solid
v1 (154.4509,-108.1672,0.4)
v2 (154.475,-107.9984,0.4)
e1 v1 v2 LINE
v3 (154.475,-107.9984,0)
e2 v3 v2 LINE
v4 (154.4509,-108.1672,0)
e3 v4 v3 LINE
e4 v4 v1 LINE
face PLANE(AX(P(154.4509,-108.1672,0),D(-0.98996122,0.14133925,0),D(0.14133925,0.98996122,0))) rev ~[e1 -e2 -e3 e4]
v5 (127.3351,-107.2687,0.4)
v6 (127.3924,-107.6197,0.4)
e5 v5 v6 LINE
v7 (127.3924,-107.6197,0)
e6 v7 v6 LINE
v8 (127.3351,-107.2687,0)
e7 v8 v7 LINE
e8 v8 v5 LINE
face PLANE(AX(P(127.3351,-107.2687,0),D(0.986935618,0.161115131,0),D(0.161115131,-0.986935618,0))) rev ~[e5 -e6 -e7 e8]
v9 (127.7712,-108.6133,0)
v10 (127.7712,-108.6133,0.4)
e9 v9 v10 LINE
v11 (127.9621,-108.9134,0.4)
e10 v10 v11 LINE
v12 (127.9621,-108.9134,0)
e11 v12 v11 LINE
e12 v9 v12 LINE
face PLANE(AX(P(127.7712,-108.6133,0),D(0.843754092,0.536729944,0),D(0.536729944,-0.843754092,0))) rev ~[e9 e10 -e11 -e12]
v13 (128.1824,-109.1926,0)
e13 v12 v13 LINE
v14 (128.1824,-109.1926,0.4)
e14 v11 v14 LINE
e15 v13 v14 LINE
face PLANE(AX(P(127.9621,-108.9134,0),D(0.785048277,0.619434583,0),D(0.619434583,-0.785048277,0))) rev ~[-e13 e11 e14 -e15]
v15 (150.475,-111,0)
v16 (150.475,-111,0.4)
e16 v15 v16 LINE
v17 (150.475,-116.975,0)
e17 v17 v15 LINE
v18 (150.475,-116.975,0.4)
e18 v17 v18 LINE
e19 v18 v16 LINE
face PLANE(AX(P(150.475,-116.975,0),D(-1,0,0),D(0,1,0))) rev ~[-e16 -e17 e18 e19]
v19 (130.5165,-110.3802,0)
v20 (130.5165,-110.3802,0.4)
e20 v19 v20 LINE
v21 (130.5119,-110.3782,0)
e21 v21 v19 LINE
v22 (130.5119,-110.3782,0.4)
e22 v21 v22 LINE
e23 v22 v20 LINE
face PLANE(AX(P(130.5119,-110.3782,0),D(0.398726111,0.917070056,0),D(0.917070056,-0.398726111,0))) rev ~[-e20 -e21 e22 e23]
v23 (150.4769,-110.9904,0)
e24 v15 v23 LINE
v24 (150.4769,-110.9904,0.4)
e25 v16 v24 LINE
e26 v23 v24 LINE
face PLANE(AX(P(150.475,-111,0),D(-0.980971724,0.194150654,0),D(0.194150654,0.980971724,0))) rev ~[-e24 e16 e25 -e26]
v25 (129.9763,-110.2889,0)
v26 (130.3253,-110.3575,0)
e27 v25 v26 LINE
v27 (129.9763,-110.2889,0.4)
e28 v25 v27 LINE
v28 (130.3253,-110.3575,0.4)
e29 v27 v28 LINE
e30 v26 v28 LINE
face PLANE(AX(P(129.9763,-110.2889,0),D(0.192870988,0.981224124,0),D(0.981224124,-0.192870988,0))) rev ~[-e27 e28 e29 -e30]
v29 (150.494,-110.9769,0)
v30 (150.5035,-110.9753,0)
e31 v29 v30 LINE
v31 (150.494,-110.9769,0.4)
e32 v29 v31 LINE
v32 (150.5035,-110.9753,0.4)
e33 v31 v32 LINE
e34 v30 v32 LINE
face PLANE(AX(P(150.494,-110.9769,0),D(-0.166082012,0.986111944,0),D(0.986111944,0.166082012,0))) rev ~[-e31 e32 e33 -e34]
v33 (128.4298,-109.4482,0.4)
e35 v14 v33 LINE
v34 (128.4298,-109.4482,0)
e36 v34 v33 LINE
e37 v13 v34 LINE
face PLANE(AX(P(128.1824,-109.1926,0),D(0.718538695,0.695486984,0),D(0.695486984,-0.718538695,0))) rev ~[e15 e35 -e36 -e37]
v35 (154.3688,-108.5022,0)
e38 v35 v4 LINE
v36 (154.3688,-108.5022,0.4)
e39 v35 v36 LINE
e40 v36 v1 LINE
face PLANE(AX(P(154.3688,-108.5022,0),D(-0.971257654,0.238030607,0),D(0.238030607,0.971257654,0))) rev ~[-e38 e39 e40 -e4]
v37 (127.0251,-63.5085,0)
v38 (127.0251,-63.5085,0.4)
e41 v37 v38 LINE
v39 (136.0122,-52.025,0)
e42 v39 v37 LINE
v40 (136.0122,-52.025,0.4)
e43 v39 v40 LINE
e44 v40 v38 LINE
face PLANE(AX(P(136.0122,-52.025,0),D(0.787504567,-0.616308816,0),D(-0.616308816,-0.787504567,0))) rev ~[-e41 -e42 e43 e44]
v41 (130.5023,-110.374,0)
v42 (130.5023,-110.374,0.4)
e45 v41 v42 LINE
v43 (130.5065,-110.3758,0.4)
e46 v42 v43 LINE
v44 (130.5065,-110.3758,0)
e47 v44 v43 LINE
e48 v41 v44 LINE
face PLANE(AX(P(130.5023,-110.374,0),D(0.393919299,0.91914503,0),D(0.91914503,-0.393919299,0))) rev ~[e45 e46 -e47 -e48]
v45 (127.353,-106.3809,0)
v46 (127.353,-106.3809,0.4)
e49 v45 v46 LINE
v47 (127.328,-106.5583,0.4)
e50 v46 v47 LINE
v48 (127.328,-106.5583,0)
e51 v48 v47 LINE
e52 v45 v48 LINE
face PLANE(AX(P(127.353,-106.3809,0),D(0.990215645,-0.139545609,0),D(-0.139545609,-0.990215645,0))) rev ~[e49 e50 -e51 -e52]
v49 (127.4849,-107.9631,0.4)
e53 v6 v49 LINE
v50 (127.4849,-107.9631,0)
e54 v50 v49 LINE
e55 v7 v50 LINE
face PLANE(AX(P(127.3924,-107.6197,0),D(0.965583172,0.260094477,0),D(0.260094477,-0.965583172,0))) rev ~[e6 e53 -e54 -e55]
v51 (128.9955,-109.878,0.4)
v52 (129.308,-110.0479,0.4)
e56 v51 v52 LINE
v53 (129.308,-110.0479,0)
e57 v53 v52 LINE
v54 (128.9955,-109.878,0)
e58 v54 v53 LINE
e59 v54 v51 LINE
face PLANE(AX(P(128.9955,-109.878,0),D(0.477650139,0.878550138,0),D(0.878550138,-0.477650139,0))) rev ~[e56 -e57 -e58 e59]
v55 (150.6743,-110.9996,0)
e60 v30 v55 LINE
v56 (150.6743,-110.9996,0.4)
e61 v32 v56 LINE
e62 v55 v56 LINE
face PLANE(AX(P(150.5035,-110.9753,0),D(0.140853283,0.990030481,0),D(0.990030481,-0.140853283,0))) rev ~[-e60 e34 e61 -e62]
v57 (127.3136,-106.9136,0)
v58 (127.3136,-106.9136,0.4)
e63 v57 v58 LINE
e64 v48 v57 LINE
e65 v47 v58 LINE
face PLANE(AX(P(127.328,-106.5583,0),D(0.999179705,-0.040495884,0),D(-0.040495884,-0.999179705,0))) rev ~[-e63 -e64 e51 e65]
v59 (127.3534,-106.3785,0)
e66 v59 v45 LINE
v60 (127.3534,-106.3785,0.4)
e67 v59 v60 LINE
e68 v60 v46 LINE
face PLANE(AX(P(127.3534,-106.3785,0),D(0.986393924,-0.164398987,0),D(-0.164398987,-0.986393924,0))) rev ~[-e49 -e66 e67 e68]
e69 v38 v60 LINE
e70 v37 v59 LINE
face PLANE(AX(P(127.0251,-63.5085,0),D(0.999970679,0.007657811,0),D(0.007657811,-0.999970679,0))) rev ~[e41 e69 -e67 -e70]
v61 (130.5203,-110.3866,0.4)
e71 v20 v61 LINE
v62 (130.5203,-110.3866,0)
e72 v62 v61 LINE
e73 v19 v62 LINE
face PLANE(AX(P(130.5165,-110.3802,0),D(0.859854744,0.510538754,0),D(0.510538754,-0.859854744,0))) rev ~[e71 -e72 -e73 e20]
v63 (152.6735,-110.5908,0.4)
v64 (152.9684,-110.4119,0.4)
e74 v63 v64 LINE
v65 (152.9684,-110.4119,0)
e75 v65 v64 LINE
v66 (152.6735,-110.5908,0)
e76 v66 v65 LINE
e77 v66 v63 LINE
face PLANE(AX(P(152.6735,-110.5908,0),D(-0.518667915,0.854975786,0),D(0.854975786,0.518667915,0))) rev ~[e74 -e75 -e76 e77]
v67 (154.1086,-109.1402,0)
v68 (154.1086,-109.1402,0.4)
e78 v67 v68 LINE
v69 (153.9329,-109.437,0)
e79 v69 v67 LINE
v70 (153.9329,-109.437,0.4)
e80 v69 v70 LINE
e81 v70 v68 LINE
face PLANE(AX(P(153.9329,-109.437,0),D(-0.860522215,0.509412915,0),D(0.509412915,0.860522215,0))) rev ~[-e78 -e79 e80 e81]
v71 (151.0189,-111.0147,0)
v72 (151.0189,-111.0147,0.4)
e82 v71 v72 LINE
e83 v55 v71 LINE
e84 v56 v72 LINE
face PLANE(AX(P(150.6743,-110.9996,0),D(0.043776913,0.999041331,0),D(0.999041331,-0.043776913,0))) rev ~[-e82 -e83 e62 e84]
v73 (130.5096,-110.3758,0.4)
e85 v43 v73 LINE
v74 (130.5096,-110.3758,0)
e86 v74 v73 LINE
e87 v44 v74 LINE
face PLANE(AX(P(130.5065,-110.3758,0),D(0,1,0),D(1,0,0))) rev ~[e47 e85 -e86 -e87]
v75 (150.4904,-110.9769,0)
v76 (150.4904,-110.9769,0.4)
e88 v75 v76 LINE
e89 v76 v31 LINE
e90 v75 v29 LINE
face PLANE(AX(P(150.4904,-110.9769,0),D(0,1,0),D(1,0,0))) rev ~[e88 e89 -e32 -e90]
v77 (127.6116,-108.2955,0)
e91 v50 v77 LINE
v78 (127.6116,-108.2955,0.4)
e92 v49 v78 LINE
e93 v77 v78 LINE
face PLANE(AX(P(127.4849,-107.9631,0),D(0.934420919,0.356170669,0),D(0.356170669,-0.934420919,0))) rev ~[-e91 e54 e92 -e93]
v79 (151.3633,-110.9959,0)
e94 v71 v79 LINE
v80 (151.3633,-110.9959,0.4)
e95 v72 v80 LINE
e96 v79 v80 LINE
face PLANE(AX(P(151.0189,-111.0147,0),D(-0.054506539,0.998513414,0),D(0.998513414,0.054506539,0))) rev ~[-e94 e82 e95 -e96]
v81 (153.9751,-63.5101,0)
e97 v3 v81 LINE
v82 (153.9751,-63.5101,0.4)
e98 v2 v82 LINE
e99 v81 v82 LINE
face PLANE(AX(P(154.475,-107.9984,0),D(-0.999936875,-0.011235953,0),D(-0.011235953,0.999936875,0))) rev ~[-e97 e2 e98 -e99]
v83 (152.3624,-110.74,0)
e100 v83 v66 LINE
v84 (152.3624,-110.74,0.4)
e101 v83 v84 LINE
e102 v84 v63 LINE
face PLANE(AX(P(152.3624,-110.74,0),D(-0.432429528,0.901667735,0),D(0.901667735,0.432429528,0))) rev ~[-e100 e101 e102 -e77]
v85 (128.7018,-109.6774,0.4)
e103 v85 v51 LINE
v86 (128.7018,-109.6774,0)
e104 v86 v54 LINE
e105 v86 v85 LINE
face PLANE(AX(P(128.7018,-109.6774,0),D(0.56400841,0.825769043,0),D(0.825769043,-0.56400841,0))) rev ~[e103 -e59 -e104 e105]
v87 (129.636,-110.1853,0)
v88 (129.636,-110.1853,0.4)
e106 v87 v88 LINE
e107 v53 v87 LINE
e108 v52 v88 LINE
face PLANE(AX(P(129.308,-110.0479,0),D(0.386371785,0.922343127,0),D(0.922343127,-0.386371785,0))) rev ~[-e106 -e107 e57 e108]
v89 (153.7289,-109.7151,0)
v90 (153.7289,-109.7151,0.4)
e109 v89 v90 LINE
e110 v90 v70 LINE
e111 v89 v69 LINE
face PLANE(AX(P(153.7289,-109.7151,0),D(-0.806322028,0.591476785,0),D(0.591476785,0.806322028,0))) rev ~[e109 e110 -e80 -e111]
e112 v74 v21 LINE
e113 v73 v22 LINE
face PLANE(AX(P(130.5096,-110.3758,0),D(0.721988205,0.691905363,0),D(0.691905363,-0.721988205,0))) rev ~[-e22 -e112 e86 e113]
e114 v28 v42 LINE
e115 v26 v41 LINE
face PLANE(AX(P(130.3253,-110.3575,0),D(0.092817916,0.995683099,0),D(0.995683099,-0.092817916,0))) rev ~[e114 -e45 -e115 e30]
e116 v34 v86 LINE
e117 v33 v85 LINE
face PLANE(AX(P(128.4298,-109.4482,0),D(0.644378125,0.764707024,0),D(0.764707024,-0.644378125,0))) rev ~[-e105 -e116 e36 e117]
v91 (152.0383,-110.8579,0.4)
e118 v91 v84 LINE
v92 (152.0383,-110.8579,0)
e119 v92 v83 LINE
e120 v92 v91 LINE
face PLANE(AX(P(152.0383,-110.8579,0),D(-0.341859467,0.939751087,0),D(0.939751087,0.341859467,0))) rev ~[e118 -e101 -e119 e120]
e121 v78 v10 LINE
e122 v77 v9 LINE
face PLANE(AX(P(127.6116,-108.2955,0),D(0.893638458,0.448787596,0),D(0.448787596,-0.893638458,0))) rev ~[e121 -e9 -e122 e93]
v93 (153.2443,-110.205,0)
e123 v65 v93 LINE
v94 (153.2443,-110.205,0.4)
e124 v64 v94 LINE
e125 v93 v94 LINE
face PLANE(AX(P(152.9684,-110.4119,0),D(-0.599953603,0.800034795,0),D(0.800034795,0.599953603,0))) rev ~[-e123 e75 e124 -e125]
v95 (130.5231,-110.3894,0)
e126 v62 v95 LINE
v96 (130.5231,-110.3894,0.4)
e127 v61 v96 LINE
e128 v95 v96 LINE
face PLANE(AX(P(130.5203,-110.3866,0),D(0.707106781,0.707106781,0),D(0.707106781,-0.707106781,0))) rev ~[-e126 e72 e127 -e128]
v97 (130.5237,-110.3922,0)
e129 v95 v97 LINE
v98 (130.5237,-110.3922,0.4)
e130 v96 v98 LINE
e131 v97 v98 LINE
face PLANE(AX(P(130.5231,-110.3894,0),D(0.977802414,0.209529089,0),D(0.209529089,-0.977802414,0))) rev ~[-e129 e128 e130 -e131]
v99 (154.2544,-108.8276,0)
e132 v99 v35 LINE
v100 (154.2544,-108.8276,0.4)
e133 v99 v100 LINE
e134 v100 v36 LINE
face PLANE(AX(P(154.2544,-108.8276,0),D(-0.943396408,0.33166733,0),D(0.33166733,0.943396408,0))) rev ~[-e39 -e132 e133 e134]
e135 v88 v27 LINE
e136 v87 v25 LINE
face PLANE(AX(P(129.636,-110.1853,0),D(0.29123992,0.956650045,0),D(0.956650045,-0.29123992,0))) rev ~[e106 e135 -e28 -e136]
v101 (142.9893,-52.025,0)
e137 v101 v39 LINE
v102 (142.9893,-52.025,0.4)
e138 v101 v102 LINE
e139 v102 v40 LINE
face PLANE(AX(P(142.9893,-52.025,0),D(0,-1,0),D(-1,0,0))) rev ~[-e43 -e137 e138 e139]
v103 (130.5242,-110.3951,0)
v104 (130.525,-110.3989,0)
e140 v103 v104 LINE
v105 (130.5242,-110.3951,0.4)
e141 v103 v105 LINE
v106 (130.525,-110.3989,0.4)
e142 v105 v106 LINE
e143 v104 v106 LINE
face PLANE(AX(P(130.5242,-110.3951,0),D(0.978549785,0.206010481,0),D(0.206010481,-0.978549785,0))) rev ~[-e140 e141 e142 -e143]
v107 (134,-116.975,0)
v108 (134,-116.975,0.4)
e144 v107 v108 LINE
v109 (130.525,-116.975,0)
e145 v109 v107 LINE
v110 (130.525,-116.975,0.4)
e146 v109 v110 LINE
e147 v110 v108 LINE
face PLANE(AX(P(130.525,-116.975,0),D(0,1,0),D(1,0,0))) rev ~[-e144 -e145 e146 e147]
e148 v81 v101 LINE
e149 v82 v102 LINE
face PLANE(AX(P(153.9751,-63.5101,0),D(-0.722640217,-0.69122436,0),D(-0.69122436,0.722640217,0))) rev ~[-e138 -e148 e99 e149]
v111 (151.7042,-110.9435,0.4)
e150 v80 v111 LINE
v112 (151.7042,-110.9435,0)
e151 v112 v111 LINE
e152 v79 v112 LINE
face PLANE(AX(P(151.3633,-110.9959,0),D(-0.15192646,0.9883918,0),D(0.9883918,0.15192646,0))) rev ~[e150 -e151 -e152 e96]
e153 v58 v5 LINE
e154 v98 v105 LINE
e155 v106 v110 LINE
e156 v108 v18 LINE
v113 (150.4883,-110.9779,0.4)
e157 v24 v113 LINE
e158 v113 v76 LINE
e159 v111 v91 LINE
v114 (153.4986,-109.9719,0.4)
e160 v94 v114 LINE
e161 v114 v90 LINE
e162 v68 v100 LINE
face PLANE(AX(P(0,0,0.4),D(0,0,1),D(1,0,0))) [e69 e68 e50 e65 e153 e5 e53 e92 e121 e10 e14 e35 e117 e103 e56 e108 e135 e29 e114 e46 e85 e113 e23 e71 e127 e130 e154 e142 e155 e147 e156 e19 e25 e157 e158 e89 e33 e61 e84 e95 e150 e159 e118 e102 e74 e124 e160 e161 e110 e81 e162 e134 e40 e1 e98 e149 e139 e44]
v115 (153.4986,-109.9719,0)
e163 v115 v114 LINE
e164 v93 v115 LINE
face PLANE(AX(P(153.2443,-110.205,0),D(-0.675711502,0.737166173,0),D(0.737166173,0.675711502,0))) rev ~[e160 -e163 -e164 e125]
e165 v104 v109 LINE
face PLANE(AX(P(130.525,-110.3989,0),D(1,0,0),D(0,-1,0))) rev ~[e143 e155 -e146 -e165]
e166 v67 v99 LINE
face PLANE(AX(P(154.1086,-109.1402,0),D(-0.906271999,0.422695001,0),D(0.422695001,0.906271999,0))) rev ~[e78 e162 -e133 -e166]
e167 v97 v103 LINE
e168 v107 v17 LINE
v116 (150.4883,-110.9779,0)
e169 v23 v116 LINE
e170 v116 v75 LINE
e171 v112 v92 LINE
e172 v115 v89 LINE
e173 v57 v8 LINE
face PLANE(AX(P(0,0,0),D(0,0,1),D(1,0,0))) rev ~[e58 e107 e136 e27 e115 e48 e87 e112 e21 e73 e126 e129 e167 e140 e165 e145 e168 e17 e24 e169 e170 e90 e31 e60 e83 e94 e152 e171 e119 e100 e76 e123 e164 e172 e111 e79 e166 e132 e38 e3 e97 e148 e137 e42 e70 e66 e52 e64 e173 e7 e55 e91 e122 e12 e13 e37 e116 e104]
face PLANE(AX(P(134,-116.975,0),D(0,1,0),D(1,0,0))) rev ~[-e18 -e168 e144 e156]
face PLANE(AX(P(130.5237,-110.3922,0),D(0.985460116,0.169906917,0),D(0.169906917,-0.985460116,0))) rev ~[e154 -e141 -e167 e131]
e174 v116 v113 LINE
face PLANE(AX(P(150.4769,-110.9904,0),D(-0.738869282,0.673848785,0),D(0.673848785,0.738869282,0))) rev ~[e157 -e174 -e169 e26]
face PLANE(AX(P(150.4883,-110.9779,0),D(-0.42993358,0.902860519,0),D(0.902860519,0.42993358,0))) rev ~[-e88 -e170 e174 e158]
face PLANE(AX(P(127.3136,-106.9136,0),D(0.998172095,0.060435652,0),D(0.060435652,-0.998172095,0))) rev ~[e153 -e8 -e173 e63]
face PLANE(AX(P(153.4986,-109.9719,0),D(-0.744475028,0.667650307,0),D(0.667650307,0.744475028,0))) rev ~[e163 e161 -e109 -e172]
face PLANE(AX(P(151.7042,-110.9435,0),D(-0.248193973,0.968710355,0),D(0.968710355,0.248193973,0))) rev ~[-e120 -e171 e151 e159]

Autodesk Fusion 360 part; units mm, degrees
sketch "KiCad Dongle-Edge_Cuts" plane through (0, 0, 0) normal (0, 1, 0) x (1, 0, 0)
  line L0 (143.0096, -51.9769) -> (143.0098, -51.9771)
  line L1 (143.0098, -51.9771) -> (143.0101, -51.9771)
  line L2 (143.0101, -51.9771) -> (143.0181, -51.9827)
  line L3 (143.0181, -51.9827) -> (154.0181, -63.4827)
  line L4 (154.0181, -63.4827) -> (154.0225, -63.4897)
  line L5 (154.0225, -63.4897) -> (154.023, -63.4902)
  line L6 (154.023, -63.4902) -> (154.0231, -63.4906)
  line L7 (154.0231, -63.4906) -> (154.0233, -63.4909)
  line L8 (154.0233, -63.4909) -> (154.0233, -63.4916)
  line L9 (154.0233, -63.4916) -> (154.025, -63.4997)
  line L10 (154.025, -63.4997) -> (154.525, -107.9997)
  line L11 (154.525, -107.9997) -> (154.5245, -108.0022)
  line L12 (154.5245, -108.0022) -> (154.5247, -108.0035)
  line L13 (154.5247, -108.0035) -> (154.4584, -108.3466)
  line L14 (154.4584, -108.3466) -> (154.3588, -108.6815)
  line L15 (154.3588, -108.6815) -> (154.2268, -109.005)
  line L16 (154.2268, -109.005) -> (154.0637, -109.3141)
  line L17 (154.0637, -109.3141) -> (153.8712, -109.6056)
  line L18 (153.8712, -109.6056) -> (153.651, -109.8769)
  line L19 (153.651, -109.8769) -> (153.4052, -110.1253)
  line L20 (153.4052, -110.1253) -> (153.1363, -110.3484)
  line L21 (153.1363, -110.3484) -> (152.8468, -110.5441)
  line L22 (152.8468, -110.5441) -> (152.5396, -110.7105)
  line L23 (152.5396, -110.7105) -> (152.2175, -110.8459)
  line L24 (152.2175, -110.8459) -> (151.8837, -110.9491)
  line L25 (151.8837, -110.9491) -> (151.5413, -111.0191)
  line L26 (151.5413, -111.0191) -> (151.1938, -111.0553)
  line L27 (151.1938, -111.0553) -> (150.8444, -111.0571)
  line L28 (150.8444, -111.0571) -> (150.525, -111.0274)
  line L29 (150.525, -111.0274) -> (150.525, -117)
  line L30 (150.525, -117) -> (150.5231, -117.0096)
  line L31 (150.5231, -117.0096) -> (150.5096, -117.0231)
  line L32 (150.5096, -117.0231) -> (150.5, -117.025)
  line L33 (150.5, -117.025) -> (134, -117.025)
  line L34 (134, -117.025) -> (130.5, -117.025)
  line L35 (130.5, -117.025) -> (130.4904, -117.0231)
  line L36 (130.4904, -117.0231) -> (130.4769, -117.0096)
  line L37 (130.4769, -117.0096) -> (130.475, -117)
  line L38 (130.475, -117) -> (130.475, -110.4205)
  line L39 (130.475, -110.4205) -> (130.1411, -110.3722)
  line L40 (130.1411, -110.3722) -> (129.7916, -110.2849)
  line L41 (129.7916, -110.2849) -> (129.4527, -110.1627)
  line L42 (129.4527, -110.1627) -> (129.1278, -110.0068)
  line L43 (129.1278, -110.0068) -> (128.8204, -109.819)
  line L44 (128.8204, -109.819) -> (128.5336, -109.601)
  line L45 (128.5336, -109.601) -> (128.2702, -109.3552)
  line L46 (128.2702, -109.3552) -> (128.033, -109.084)
  line L47 (128.033, -109.084) -> (127.8245, -108.7902)
  line L48 (127.8245, -108.7902) -> (127.6467, -108.4768)
  line L49 (127.6467, -108.4768) -> (127.5015, -108.1471)
  line L50 (127.5015, -108.1471) -> (127.3903, -107.8044)
  line L51 (127.3903, -107.8044) -> (127.3144, -107.4522)
  line L52 (127.3144, -107.4522) -> (127.2744, -107.0942)
  line L53 (127.2744, -107.0942) -> (127.2708, -106.7339)
  line L54 (127.2708, -106.7339) -> (127.3034, -106.378)
  line L55 (127.3034, -106.378) -> (126.975, -63.5002)
  line L56 (126.975, -63.5002) -> (126.9761, -63.4946)
  line L57 (126.9761, -63.4946) -> (126.9759, -63.4933)
  line L58 (126.9759, -63.4933) -> (126.9766, -63.492)
  line L59 (126.9766, -63.492) -> (126.9768, -63.4906)
  line L60 (126.9768, -63.4906) -> (126.9777, -63.4897)
  line L61 (126.9777, -63.4897) -> (126.9803, -63.4846)
  line L62 (126.9803, -63.4846) -> (135.9803, -51.9846)
  line L63 (135.9803, -51.9846) -> (135.9877, -51.9782)
  line L64 (135.9877, -51.9782) -> (135.9893, -51.978)
  line L65 (135.9893, -51.978) -> (135.9904, -51.9769)
  line L66 (135.9904, -51.9769) -> (136, -51.975)
  line L67 (136, -51.975) -> (143, -51.975)
  line L68 (143, -51.975) -> (143.0096, -51.9769)
  line L69 (136.0122, -52.025) -> (127.0251, -63.5085)
  line L70 (127.0251, -63.5085) -> (127.3534, -106.3785)
  line L71 (127.3534, -106.3785) -> (127.353, -106.3809)
  line L72 (127.353, -106.3809) -> (127.3532, -106.3822)
  line L73 (127.3532, -106.3822) -> (127.328, -106.5583)
  line L74 (127.328, -106.5583) -> (127.3136, -106.9136)
  line L75 (127.3136, -106.9136) -> (127.3351, -107.2687)
  line L76 (127.3351, -107.2687) -> (127.3924, -107.6197)
  line L77 (127.3924, -107.6197) -> (127.4849, -107.9631)
  line L78 (127.4849, -107.9631) -> (127.6116, -108.2955)
  line L79 (127.6116, -108.2955) -> (127.7712, -108.6133)
  line L80 (127.7712, -108.6133) -> (127.9621, -108.9134)
  line L81 (127.9621, -108.9134) -> (128.1824, -109.1926)
  line L82 (128.1824, -109.1926) -> (128.4298, -109.4482)
  line L83 (128.4298, -109.4482) -> (128.7018, -109.6774)
  line L84 (128.7018, -109.6774) -> (128.9955, -109.878)
  line L85 (128.9955, -109.878) -> (129.308, -110.0479)
  line L86 (129.308, -110.0479) -> (129.636, -110.1853)
  line L87 (129.636, -110.1853) -> (129.9763, -110.2889)
  line L88 (129.9763, -110.2889) -> (130.3253, -110.3575)
  line L89 (130.3253, -110.3575) -> (130.5023, -110.374)
  line L90 (130.5023, -110.374) -> (130.5065, -110.3758)
  line L91 (130.5065, -110.3758) -> (130.5096, -110.3758)
  line L92 (130.5096, -110.3758) -> (130.5119, -110.3782)
  line L93 (130.5119, -110.3782) -> (130.5165, -110.3802)
  line L94 (130.5165, -110.3802) -> (130.5203, -110.3866)
  line L95 (130.5203, -110.3866) -> (130.5231, -110.3894)
  line L96 (130.5231, -110.3894) -> (130.5237, -110.3922)
  line L97 (130.5237, -110.3922) -> (130.5244, -110.3934)
  line L98 (130.5244, -110.3934) -> (130.5242, -110.3951)
  line L99 (130.5242, -110.3951) -> (130.525, -110.3989)
  line L100 (130.525, -110.3989) -> (130.525, -116.975)
  line L101 (130.525, -116.975) -> (134, -116.975)
  line L102 (134, -116.975) -> (150.475, -116.975)
  line L103 (150.475, -116.975) -> (150.475, -111)
  line L104 (150.475, -111) -> (150.4769, -110.9904)
  line L105 (150.4769, -110.9904) -> (150.4774, -110.9899)
  line L106 (150.4774, -110.9899) -> (150.4776, -110.989)
  line L107 (150.4776, -110.989) -> (150.4883, -110.9779)
  line L108 (150.4883, -110.9779) -> (150.4897, -110.9777)
  line L109 (150.4897, -110.9777) -> (150.4904, -110.9769)
  line L110 (150.4904, -110.9769) -> (150.494, -110.9769)
  line L111 (150.494, -110.9769) -> (150.5035, -110.9753)
  line L112 (150.5035, -110.9753) -> (150.6743, -110.9996)
  line L113 (150.6743, -110.9996) -> (151.0189, -111.0147)
  line L114 (151.0189, -111.0147) -> (151.3633, -110.9959)
  line L115 (151.3633, -110.9959) -> (151.7042, -110.9435)
  line L116 (151.7042, -110.9435) -> (152.0383, -110.8579)
  line L117 (152.0383, -110.8579) -> (152.3624, -110.74)
  line L118 (152.3624, -110.74) -> (152.6735, -110.5908)
  line L119 (152.6735, -110.5908) -> (152.9684, -110.4119)
  line L120 (152.9684, -110.4119) -> (153.2443, -110.205)
  line L121 (153.2443, -110.2049) -> (153.4986, -109.9719)
  line L122 (153.4986, -109.9719) -> (153.7289, -109.7151)
  line L123 (153.7289, -109.7151) -> (153.9329, -109.437)
  line L124 (153.9329, -109.437) -> (154.1086, -109.1402)
  line L125 (154.1086, -109.1402) -> (154.2544, -108.8276)
  line L126 (154.2544, -108.8276) -> (154.3688, -108.5022)
  line L127 (154.3688, -108.5022) -> (154.4509, -108.1672)
  line L128 (154.4509, -108.1672) -> (154.475, -107.9984)
  line L129 (154.475, -107.9984) -> (153.9751, -63.5101)
  line L130 (153.9751, -63.5101) -> (142.9893, -52.025)
  line L131 (142.9893, -52.025) -> (136.0122, -52.025)
sketch "KiCad Dongle-Edge_Cuts (1)" plane through (0, 0, 0) normal (0, 0, 1) x (1, 0, 0)
  line L0 (143.0096, -51.9769) -> (143.0098, -51.9771)
  line L1 (143.0098, -51.9771) -> (143.0101, -51.9771)
  line L2 (143.0101, -51.9771) -> (143.0181, -51.9827)
  line L3 (143.0181, -51.9827) -> (154.0181, -63.4827)
  line L4 (154.0181, -63.4827) -> (154.0225, -63.4897)
  line L5 (154.0225, -63.4897) -> (154.023, -63.4902)
  line L6 (154.023, -63.4902) -> (154.0231, -63.4906)
  line L7 (154.0231, -63.4906) -> (154.0233, -63.4909)
  line L8 (154.0233, -63.4909) -> (154.0233, -63.4916)
  line L9 (154.0233, -63.4916) -> (154.025, -63.4997)
  line L10 (154.025, -63.4997) -> (154.525, -107.9997)
  line L11 (154.525, -107.9997) -> (154.5245, -108.0022)
  line L12 (154.5245, -108.0022) -> (154.5247, -108.0035)
  line L13 (154.5247, -108.0035) -> (154.4584, -108.3466)
  line L14 (154.4584, -108.3466) -> (154.3588, -108.6815)
  line L15 (154.3588, -108.6815) -> (154.2268, -109.005)
  line L16 (154.2268, -109.005) -> (154.0637, -109.3141)
  line L17 (154.0637, -109.3141) -> (153.8712, -109.6056)
  line L18 (153.8712, -109.6056) -> (153.651, -109.8769)
  line L19 (153.651, -109.8769) -> (153.4052, -110.1253)
  line L20 (153.4052, -110.1253) -> (153.1363, -110.3484)
  line L21 (153.1363, -110.3484) -> (152.8468, -110.5441)
  line L22 (152.8468, -110.5441) -> (152.5396, -110.7105)
  line L23 (152.5396, -110.7105) -> (152.2175, -110.8459)
  line L24 (152.2175, -110.8459) -> (151.8837, -110.9491)
  line L25 (151.8837, -110.9491) -> (151.5413, -111.0191)
  line L26 (151.5413, -111.0191) -> (151.1938, -111.0553)
  line L27 (151.1938, -111.0553) -> (150.8444, -111.0571)
  line L28 (150.8444, -111.0571) -> (150.525, -111.0274)
  line L29 (150.525, -111.0274) -> (150.525, -117)
  line L30 (150.525, -117) -> (150.5231, -117.0096)
  line L31 (150.5231, -117.0096) -> (150.5096, -117.0231)
  line L32 (150.5096, -117.0231) -> (150.5, -117.025)
  line L33 (150.5, -117.025) -> (134, -117.025)
  line L34 (134, -117.025) -> (130.5, -117.025)
  line L35 (130.5, -117.025) -> (130.4904, -117.0231)
  line L36 (130.4904, -117.0231) -> (130.4769, -117.0096)
  line L37 (130.4769, -117.0096) -> (130.475, -117)
  line L38 (130.475, -117) -> (130.475, -110.4205)
  line L39 (130.475, -110.4205) -> (130.1411, -110.3722)
  line L40 (130.1411, -110.3722) -> (129.7916, -110.2849)
  line L41 (129.7916, -110.2849) -> (129.4527, -110.1627)
  line L42 (129.4527, -110.1627) -> (129.1278, -110.0068)
  line L43 (129.1278, -110.0068) -> (128.8204, -109.819)
  line L44 (128.8204, -109.819) -> (128.5336, -109.601)
  line L45 (128.5336, -109.601) -> (128.2702, -109.3552)
  line L46 (128.2702, -109.3552) -> (128.033, -109.084)
  line L47 (128.033, -109.084) -> (127.8245, -108.7902)
  line L48 (127.8245, -108.7902) -> (127.6467, -108.4768)
  line L49 (127.6467, -108.4768) -> (127.5015, -108.1471)
  line L50 (127.5015, -108.1471) -> (127.3903, -107.8044)
  line L51 (127.3903, -107.8044) -> (127.3144, -107.4522)
  line L52 (127.3144, -107.4522) -> (127.2744, -107.0942)
  line L53 (127.2744, -107.0942) -> (127.2708, -106.7339)
  line L54 (127.2708, -106.7339) -> (127.3034, -106.378)
  line L55 (127.3034, -106.378) -> (126.975, -63.5002)
  line L56 (126.975, -63.5002) -> (126.9761, -63.4946)
  line L57 (126.9761, -63.4946) -> (126.9759, -63.4933)
  line L58 (126.9759, -63.4933) -> (126.9766, -63.492)
  line L59 (126.9766, -63.492) -> (126.9768, -63.4906)
  line L60 (126.9768, -63.4906) -> (126.9777, -63.4897)
  line L61 (126.9777, -63.4897) -> (126.9803, -63.4846)
  line L62 (126.9803, -63.4846) -> (135.9803, -51.9846)
  line L63 (135.9803, -51.9846) -> (135.9877, -51.9782)
  line L64 (135.9877, -51.9782) -> (135.9893, -51.978)
  line L65 (135.9893, -51.978) -> (135.9904, -51.9769)
  line L66 (135.9904, -51.9769) -> (136, -51.975)
  line L67 (136, -51.975) -> (143, -51.975)
  line L68 (143, -51.975) -> (143.0096, -51.9769)
  line L69 (136.0122, -52.025) -> (127.0251, -63.5085)
  line L70 (127.0251, -63.5085) -> (127.3534, -106.3785)
  line L71 (127.3534, -106.3785) -> (127.353, -106.3809)
  line L72 (127.353, -106.3809) -> (127.3532, -106.3822)
  line L73 (127.3532, -106.3822) -> (127.328, -106.5583)
  line L74 (127.328, -106.5583) -> (127.3136, -106.9136)
  line L75 (127.3136, -106.9136) -> (127.3351, -107.2687)
  line L76 (127.3351, -107.2687) -> (127.3924, -107.6197)
  line L77 (127.3924, -107.6197) -> (127.4849, -107.9631)
  line L78 (127.4849, -107.9631) -> (127.6116, -108.2955)
  line L79 (127.6116, -108.2955) -> (127.7712, -108.6133)
  line L80 (127.7712, -108.6133) -> (127.9621, -108.9134)
  line L81 (127.9621, -108.9134) -> (128.1824, -109.1926)
  line L82 (128.1824, -109.1926) -> (128.4298, -109.4482)
  line L83 (128.4298, -109.4482) -> (128.7018, -109.6774)
  line L84 (128.7018, -109.6774) -> (128.9955, -109.878)
  line L85 (128.9955, -109.878) -> (129.308, -110.0479)
  line L86 (129.308, -110.0479) -> (129.636, -110.1853)
  line L87 (129.636, -110.1853) -> (129.9763, -110.2889)
  line L88 (129.9763, -110.2889) -> (130.3253, -110.3575)
  line L89 (130.3253, -110.3575) -> (130.5023, -110.374)
  line L90 (130.5023, -110.374) -> (130.5065, -110.3758)
  line L91 (130.5065, -110.3758) -> (130.5096, -110.3758)
  line L92 (130.5096, -110.3758) -> (130.5119, -110.3782)
  line L93 (130.5119, -110.3782) -> (130.5165, -110.3802)
  line L94 (130.5165, -110.3802) -> (130.5203, -110.3866)
  line L95 (130.5203, -110.3866) -> (130.5231, -110.3894)
  line L96 (130.5231, -110.3894) -> (130.5237, -110.3922)
  line L97 (130.5237, -110.3922) -> (130.5244, -110.3934)
  line L98 (130.5244, -110.3934) -> (130.5242, -110.3951)
  line L99 (130.5242, -110.3951) -> (130.525, -110.3989)
  line L100 (130.525, -110.3989) -> (130.525, -116.975)
  line L101 (130.525, -116.975) -> (134, -116.975)
  line L102 (134, -116.975) -> (150.475, -116.975)
  line L103 (150.475, -116.975) -> (150.475, -111)
  line L104 (150.475, -111) -> (150.4769, -110.9904)
  line L105 (150.4769, -110.9904) -> (150.4774, -110.9899)
  line L106 (150.4774, -110.9899) -> (150.4776, -110.989)
  line L107 (150.4776, -110.989) -> (150.4883, -110.9779)
  line L108 (150.4883, -110.9779) -> (150.4897, -110.9777)
  line L109 (150.4897, -110.9777) -> (150.4904, -110.9769)
  line L110 (150.4904, -110.9769) -> (150.494, -110.9769)
  line L111 (150.494, -110.9769) -> (150.5035, -110.9753)
  line L112 (150.5035, -110.9753) -> (150.6743, -110.9996)
  line L113 (150.6743, -110.9996) -> (151.0189, -111.0147)
  line L114 (151.0189, -111.0147) -> (151.3633, -110.9959)
  line L115 (151.3633, -110.9959) -> (151.7042, -110.9435)
  line L116 (151.7042, -110.9435) -> (152.0383, -110.8579)
  line L117 (152.0383, -110.8579) -> (152.3624, -110.74)
  line L118 (152.3624, -110.74) -> (152.6735, -110.5908)
  line L119 (152.6735, -110.5908) -> (152.9684, -110.4119)
  line L120 (152.9684, -110.4119) -> (153.2443, -110.205)
  line L121 (153.2443, -110.2049) -> (153.4986, -109.9719)
  line L122 (153.4986, -109.9719) -> (153.7289, -109.7151)
  line L123 (153.7289, -109.7151) -> (153.9329, -109.437)
  line L124 (153.9329, -109.437) -> (154.1086, -109.1402)
  line L125 (154.1086, -109.1402) -> (154.2544, -108.8276)
  line L126 (154.2544, -108.8276) -> (154.3688, -108.5022)
  line L127 (154.3688, -108.5022) -> (154.4509, -108.1672)
  line L128 (154.4509, -108.1672) -> (154.475, -107.9984)
  line L129 (154.475, -107.9984) -> (153.9751, -63.5101)
  line L130 (153.9751, -63.5101) -> (142.9893, -52.025)
  line L131 (142.9893, -52.025) -> (136.0122, -52.025)
extrude "Extrude2" add sketch "KiCad Dongle-Edge_Cuts (1)" along normal blind 0.4 contours L69 L70 L71 L73 L74 L75 L76 L77 L78 L79 L80 L81 L82 L83 L84 L85 L86 L87 L88 L89 L90 L91 L92 L93 L94 L95 L96 L98 L99 L100 L101 L102 L103 L104 L107 L109 L110 L111 L112 L113 L114 L115 L116 L117 L118 L119 L120 L121 L122 L123 L124 L125 L126 L127 L128 L129 L130 L131
